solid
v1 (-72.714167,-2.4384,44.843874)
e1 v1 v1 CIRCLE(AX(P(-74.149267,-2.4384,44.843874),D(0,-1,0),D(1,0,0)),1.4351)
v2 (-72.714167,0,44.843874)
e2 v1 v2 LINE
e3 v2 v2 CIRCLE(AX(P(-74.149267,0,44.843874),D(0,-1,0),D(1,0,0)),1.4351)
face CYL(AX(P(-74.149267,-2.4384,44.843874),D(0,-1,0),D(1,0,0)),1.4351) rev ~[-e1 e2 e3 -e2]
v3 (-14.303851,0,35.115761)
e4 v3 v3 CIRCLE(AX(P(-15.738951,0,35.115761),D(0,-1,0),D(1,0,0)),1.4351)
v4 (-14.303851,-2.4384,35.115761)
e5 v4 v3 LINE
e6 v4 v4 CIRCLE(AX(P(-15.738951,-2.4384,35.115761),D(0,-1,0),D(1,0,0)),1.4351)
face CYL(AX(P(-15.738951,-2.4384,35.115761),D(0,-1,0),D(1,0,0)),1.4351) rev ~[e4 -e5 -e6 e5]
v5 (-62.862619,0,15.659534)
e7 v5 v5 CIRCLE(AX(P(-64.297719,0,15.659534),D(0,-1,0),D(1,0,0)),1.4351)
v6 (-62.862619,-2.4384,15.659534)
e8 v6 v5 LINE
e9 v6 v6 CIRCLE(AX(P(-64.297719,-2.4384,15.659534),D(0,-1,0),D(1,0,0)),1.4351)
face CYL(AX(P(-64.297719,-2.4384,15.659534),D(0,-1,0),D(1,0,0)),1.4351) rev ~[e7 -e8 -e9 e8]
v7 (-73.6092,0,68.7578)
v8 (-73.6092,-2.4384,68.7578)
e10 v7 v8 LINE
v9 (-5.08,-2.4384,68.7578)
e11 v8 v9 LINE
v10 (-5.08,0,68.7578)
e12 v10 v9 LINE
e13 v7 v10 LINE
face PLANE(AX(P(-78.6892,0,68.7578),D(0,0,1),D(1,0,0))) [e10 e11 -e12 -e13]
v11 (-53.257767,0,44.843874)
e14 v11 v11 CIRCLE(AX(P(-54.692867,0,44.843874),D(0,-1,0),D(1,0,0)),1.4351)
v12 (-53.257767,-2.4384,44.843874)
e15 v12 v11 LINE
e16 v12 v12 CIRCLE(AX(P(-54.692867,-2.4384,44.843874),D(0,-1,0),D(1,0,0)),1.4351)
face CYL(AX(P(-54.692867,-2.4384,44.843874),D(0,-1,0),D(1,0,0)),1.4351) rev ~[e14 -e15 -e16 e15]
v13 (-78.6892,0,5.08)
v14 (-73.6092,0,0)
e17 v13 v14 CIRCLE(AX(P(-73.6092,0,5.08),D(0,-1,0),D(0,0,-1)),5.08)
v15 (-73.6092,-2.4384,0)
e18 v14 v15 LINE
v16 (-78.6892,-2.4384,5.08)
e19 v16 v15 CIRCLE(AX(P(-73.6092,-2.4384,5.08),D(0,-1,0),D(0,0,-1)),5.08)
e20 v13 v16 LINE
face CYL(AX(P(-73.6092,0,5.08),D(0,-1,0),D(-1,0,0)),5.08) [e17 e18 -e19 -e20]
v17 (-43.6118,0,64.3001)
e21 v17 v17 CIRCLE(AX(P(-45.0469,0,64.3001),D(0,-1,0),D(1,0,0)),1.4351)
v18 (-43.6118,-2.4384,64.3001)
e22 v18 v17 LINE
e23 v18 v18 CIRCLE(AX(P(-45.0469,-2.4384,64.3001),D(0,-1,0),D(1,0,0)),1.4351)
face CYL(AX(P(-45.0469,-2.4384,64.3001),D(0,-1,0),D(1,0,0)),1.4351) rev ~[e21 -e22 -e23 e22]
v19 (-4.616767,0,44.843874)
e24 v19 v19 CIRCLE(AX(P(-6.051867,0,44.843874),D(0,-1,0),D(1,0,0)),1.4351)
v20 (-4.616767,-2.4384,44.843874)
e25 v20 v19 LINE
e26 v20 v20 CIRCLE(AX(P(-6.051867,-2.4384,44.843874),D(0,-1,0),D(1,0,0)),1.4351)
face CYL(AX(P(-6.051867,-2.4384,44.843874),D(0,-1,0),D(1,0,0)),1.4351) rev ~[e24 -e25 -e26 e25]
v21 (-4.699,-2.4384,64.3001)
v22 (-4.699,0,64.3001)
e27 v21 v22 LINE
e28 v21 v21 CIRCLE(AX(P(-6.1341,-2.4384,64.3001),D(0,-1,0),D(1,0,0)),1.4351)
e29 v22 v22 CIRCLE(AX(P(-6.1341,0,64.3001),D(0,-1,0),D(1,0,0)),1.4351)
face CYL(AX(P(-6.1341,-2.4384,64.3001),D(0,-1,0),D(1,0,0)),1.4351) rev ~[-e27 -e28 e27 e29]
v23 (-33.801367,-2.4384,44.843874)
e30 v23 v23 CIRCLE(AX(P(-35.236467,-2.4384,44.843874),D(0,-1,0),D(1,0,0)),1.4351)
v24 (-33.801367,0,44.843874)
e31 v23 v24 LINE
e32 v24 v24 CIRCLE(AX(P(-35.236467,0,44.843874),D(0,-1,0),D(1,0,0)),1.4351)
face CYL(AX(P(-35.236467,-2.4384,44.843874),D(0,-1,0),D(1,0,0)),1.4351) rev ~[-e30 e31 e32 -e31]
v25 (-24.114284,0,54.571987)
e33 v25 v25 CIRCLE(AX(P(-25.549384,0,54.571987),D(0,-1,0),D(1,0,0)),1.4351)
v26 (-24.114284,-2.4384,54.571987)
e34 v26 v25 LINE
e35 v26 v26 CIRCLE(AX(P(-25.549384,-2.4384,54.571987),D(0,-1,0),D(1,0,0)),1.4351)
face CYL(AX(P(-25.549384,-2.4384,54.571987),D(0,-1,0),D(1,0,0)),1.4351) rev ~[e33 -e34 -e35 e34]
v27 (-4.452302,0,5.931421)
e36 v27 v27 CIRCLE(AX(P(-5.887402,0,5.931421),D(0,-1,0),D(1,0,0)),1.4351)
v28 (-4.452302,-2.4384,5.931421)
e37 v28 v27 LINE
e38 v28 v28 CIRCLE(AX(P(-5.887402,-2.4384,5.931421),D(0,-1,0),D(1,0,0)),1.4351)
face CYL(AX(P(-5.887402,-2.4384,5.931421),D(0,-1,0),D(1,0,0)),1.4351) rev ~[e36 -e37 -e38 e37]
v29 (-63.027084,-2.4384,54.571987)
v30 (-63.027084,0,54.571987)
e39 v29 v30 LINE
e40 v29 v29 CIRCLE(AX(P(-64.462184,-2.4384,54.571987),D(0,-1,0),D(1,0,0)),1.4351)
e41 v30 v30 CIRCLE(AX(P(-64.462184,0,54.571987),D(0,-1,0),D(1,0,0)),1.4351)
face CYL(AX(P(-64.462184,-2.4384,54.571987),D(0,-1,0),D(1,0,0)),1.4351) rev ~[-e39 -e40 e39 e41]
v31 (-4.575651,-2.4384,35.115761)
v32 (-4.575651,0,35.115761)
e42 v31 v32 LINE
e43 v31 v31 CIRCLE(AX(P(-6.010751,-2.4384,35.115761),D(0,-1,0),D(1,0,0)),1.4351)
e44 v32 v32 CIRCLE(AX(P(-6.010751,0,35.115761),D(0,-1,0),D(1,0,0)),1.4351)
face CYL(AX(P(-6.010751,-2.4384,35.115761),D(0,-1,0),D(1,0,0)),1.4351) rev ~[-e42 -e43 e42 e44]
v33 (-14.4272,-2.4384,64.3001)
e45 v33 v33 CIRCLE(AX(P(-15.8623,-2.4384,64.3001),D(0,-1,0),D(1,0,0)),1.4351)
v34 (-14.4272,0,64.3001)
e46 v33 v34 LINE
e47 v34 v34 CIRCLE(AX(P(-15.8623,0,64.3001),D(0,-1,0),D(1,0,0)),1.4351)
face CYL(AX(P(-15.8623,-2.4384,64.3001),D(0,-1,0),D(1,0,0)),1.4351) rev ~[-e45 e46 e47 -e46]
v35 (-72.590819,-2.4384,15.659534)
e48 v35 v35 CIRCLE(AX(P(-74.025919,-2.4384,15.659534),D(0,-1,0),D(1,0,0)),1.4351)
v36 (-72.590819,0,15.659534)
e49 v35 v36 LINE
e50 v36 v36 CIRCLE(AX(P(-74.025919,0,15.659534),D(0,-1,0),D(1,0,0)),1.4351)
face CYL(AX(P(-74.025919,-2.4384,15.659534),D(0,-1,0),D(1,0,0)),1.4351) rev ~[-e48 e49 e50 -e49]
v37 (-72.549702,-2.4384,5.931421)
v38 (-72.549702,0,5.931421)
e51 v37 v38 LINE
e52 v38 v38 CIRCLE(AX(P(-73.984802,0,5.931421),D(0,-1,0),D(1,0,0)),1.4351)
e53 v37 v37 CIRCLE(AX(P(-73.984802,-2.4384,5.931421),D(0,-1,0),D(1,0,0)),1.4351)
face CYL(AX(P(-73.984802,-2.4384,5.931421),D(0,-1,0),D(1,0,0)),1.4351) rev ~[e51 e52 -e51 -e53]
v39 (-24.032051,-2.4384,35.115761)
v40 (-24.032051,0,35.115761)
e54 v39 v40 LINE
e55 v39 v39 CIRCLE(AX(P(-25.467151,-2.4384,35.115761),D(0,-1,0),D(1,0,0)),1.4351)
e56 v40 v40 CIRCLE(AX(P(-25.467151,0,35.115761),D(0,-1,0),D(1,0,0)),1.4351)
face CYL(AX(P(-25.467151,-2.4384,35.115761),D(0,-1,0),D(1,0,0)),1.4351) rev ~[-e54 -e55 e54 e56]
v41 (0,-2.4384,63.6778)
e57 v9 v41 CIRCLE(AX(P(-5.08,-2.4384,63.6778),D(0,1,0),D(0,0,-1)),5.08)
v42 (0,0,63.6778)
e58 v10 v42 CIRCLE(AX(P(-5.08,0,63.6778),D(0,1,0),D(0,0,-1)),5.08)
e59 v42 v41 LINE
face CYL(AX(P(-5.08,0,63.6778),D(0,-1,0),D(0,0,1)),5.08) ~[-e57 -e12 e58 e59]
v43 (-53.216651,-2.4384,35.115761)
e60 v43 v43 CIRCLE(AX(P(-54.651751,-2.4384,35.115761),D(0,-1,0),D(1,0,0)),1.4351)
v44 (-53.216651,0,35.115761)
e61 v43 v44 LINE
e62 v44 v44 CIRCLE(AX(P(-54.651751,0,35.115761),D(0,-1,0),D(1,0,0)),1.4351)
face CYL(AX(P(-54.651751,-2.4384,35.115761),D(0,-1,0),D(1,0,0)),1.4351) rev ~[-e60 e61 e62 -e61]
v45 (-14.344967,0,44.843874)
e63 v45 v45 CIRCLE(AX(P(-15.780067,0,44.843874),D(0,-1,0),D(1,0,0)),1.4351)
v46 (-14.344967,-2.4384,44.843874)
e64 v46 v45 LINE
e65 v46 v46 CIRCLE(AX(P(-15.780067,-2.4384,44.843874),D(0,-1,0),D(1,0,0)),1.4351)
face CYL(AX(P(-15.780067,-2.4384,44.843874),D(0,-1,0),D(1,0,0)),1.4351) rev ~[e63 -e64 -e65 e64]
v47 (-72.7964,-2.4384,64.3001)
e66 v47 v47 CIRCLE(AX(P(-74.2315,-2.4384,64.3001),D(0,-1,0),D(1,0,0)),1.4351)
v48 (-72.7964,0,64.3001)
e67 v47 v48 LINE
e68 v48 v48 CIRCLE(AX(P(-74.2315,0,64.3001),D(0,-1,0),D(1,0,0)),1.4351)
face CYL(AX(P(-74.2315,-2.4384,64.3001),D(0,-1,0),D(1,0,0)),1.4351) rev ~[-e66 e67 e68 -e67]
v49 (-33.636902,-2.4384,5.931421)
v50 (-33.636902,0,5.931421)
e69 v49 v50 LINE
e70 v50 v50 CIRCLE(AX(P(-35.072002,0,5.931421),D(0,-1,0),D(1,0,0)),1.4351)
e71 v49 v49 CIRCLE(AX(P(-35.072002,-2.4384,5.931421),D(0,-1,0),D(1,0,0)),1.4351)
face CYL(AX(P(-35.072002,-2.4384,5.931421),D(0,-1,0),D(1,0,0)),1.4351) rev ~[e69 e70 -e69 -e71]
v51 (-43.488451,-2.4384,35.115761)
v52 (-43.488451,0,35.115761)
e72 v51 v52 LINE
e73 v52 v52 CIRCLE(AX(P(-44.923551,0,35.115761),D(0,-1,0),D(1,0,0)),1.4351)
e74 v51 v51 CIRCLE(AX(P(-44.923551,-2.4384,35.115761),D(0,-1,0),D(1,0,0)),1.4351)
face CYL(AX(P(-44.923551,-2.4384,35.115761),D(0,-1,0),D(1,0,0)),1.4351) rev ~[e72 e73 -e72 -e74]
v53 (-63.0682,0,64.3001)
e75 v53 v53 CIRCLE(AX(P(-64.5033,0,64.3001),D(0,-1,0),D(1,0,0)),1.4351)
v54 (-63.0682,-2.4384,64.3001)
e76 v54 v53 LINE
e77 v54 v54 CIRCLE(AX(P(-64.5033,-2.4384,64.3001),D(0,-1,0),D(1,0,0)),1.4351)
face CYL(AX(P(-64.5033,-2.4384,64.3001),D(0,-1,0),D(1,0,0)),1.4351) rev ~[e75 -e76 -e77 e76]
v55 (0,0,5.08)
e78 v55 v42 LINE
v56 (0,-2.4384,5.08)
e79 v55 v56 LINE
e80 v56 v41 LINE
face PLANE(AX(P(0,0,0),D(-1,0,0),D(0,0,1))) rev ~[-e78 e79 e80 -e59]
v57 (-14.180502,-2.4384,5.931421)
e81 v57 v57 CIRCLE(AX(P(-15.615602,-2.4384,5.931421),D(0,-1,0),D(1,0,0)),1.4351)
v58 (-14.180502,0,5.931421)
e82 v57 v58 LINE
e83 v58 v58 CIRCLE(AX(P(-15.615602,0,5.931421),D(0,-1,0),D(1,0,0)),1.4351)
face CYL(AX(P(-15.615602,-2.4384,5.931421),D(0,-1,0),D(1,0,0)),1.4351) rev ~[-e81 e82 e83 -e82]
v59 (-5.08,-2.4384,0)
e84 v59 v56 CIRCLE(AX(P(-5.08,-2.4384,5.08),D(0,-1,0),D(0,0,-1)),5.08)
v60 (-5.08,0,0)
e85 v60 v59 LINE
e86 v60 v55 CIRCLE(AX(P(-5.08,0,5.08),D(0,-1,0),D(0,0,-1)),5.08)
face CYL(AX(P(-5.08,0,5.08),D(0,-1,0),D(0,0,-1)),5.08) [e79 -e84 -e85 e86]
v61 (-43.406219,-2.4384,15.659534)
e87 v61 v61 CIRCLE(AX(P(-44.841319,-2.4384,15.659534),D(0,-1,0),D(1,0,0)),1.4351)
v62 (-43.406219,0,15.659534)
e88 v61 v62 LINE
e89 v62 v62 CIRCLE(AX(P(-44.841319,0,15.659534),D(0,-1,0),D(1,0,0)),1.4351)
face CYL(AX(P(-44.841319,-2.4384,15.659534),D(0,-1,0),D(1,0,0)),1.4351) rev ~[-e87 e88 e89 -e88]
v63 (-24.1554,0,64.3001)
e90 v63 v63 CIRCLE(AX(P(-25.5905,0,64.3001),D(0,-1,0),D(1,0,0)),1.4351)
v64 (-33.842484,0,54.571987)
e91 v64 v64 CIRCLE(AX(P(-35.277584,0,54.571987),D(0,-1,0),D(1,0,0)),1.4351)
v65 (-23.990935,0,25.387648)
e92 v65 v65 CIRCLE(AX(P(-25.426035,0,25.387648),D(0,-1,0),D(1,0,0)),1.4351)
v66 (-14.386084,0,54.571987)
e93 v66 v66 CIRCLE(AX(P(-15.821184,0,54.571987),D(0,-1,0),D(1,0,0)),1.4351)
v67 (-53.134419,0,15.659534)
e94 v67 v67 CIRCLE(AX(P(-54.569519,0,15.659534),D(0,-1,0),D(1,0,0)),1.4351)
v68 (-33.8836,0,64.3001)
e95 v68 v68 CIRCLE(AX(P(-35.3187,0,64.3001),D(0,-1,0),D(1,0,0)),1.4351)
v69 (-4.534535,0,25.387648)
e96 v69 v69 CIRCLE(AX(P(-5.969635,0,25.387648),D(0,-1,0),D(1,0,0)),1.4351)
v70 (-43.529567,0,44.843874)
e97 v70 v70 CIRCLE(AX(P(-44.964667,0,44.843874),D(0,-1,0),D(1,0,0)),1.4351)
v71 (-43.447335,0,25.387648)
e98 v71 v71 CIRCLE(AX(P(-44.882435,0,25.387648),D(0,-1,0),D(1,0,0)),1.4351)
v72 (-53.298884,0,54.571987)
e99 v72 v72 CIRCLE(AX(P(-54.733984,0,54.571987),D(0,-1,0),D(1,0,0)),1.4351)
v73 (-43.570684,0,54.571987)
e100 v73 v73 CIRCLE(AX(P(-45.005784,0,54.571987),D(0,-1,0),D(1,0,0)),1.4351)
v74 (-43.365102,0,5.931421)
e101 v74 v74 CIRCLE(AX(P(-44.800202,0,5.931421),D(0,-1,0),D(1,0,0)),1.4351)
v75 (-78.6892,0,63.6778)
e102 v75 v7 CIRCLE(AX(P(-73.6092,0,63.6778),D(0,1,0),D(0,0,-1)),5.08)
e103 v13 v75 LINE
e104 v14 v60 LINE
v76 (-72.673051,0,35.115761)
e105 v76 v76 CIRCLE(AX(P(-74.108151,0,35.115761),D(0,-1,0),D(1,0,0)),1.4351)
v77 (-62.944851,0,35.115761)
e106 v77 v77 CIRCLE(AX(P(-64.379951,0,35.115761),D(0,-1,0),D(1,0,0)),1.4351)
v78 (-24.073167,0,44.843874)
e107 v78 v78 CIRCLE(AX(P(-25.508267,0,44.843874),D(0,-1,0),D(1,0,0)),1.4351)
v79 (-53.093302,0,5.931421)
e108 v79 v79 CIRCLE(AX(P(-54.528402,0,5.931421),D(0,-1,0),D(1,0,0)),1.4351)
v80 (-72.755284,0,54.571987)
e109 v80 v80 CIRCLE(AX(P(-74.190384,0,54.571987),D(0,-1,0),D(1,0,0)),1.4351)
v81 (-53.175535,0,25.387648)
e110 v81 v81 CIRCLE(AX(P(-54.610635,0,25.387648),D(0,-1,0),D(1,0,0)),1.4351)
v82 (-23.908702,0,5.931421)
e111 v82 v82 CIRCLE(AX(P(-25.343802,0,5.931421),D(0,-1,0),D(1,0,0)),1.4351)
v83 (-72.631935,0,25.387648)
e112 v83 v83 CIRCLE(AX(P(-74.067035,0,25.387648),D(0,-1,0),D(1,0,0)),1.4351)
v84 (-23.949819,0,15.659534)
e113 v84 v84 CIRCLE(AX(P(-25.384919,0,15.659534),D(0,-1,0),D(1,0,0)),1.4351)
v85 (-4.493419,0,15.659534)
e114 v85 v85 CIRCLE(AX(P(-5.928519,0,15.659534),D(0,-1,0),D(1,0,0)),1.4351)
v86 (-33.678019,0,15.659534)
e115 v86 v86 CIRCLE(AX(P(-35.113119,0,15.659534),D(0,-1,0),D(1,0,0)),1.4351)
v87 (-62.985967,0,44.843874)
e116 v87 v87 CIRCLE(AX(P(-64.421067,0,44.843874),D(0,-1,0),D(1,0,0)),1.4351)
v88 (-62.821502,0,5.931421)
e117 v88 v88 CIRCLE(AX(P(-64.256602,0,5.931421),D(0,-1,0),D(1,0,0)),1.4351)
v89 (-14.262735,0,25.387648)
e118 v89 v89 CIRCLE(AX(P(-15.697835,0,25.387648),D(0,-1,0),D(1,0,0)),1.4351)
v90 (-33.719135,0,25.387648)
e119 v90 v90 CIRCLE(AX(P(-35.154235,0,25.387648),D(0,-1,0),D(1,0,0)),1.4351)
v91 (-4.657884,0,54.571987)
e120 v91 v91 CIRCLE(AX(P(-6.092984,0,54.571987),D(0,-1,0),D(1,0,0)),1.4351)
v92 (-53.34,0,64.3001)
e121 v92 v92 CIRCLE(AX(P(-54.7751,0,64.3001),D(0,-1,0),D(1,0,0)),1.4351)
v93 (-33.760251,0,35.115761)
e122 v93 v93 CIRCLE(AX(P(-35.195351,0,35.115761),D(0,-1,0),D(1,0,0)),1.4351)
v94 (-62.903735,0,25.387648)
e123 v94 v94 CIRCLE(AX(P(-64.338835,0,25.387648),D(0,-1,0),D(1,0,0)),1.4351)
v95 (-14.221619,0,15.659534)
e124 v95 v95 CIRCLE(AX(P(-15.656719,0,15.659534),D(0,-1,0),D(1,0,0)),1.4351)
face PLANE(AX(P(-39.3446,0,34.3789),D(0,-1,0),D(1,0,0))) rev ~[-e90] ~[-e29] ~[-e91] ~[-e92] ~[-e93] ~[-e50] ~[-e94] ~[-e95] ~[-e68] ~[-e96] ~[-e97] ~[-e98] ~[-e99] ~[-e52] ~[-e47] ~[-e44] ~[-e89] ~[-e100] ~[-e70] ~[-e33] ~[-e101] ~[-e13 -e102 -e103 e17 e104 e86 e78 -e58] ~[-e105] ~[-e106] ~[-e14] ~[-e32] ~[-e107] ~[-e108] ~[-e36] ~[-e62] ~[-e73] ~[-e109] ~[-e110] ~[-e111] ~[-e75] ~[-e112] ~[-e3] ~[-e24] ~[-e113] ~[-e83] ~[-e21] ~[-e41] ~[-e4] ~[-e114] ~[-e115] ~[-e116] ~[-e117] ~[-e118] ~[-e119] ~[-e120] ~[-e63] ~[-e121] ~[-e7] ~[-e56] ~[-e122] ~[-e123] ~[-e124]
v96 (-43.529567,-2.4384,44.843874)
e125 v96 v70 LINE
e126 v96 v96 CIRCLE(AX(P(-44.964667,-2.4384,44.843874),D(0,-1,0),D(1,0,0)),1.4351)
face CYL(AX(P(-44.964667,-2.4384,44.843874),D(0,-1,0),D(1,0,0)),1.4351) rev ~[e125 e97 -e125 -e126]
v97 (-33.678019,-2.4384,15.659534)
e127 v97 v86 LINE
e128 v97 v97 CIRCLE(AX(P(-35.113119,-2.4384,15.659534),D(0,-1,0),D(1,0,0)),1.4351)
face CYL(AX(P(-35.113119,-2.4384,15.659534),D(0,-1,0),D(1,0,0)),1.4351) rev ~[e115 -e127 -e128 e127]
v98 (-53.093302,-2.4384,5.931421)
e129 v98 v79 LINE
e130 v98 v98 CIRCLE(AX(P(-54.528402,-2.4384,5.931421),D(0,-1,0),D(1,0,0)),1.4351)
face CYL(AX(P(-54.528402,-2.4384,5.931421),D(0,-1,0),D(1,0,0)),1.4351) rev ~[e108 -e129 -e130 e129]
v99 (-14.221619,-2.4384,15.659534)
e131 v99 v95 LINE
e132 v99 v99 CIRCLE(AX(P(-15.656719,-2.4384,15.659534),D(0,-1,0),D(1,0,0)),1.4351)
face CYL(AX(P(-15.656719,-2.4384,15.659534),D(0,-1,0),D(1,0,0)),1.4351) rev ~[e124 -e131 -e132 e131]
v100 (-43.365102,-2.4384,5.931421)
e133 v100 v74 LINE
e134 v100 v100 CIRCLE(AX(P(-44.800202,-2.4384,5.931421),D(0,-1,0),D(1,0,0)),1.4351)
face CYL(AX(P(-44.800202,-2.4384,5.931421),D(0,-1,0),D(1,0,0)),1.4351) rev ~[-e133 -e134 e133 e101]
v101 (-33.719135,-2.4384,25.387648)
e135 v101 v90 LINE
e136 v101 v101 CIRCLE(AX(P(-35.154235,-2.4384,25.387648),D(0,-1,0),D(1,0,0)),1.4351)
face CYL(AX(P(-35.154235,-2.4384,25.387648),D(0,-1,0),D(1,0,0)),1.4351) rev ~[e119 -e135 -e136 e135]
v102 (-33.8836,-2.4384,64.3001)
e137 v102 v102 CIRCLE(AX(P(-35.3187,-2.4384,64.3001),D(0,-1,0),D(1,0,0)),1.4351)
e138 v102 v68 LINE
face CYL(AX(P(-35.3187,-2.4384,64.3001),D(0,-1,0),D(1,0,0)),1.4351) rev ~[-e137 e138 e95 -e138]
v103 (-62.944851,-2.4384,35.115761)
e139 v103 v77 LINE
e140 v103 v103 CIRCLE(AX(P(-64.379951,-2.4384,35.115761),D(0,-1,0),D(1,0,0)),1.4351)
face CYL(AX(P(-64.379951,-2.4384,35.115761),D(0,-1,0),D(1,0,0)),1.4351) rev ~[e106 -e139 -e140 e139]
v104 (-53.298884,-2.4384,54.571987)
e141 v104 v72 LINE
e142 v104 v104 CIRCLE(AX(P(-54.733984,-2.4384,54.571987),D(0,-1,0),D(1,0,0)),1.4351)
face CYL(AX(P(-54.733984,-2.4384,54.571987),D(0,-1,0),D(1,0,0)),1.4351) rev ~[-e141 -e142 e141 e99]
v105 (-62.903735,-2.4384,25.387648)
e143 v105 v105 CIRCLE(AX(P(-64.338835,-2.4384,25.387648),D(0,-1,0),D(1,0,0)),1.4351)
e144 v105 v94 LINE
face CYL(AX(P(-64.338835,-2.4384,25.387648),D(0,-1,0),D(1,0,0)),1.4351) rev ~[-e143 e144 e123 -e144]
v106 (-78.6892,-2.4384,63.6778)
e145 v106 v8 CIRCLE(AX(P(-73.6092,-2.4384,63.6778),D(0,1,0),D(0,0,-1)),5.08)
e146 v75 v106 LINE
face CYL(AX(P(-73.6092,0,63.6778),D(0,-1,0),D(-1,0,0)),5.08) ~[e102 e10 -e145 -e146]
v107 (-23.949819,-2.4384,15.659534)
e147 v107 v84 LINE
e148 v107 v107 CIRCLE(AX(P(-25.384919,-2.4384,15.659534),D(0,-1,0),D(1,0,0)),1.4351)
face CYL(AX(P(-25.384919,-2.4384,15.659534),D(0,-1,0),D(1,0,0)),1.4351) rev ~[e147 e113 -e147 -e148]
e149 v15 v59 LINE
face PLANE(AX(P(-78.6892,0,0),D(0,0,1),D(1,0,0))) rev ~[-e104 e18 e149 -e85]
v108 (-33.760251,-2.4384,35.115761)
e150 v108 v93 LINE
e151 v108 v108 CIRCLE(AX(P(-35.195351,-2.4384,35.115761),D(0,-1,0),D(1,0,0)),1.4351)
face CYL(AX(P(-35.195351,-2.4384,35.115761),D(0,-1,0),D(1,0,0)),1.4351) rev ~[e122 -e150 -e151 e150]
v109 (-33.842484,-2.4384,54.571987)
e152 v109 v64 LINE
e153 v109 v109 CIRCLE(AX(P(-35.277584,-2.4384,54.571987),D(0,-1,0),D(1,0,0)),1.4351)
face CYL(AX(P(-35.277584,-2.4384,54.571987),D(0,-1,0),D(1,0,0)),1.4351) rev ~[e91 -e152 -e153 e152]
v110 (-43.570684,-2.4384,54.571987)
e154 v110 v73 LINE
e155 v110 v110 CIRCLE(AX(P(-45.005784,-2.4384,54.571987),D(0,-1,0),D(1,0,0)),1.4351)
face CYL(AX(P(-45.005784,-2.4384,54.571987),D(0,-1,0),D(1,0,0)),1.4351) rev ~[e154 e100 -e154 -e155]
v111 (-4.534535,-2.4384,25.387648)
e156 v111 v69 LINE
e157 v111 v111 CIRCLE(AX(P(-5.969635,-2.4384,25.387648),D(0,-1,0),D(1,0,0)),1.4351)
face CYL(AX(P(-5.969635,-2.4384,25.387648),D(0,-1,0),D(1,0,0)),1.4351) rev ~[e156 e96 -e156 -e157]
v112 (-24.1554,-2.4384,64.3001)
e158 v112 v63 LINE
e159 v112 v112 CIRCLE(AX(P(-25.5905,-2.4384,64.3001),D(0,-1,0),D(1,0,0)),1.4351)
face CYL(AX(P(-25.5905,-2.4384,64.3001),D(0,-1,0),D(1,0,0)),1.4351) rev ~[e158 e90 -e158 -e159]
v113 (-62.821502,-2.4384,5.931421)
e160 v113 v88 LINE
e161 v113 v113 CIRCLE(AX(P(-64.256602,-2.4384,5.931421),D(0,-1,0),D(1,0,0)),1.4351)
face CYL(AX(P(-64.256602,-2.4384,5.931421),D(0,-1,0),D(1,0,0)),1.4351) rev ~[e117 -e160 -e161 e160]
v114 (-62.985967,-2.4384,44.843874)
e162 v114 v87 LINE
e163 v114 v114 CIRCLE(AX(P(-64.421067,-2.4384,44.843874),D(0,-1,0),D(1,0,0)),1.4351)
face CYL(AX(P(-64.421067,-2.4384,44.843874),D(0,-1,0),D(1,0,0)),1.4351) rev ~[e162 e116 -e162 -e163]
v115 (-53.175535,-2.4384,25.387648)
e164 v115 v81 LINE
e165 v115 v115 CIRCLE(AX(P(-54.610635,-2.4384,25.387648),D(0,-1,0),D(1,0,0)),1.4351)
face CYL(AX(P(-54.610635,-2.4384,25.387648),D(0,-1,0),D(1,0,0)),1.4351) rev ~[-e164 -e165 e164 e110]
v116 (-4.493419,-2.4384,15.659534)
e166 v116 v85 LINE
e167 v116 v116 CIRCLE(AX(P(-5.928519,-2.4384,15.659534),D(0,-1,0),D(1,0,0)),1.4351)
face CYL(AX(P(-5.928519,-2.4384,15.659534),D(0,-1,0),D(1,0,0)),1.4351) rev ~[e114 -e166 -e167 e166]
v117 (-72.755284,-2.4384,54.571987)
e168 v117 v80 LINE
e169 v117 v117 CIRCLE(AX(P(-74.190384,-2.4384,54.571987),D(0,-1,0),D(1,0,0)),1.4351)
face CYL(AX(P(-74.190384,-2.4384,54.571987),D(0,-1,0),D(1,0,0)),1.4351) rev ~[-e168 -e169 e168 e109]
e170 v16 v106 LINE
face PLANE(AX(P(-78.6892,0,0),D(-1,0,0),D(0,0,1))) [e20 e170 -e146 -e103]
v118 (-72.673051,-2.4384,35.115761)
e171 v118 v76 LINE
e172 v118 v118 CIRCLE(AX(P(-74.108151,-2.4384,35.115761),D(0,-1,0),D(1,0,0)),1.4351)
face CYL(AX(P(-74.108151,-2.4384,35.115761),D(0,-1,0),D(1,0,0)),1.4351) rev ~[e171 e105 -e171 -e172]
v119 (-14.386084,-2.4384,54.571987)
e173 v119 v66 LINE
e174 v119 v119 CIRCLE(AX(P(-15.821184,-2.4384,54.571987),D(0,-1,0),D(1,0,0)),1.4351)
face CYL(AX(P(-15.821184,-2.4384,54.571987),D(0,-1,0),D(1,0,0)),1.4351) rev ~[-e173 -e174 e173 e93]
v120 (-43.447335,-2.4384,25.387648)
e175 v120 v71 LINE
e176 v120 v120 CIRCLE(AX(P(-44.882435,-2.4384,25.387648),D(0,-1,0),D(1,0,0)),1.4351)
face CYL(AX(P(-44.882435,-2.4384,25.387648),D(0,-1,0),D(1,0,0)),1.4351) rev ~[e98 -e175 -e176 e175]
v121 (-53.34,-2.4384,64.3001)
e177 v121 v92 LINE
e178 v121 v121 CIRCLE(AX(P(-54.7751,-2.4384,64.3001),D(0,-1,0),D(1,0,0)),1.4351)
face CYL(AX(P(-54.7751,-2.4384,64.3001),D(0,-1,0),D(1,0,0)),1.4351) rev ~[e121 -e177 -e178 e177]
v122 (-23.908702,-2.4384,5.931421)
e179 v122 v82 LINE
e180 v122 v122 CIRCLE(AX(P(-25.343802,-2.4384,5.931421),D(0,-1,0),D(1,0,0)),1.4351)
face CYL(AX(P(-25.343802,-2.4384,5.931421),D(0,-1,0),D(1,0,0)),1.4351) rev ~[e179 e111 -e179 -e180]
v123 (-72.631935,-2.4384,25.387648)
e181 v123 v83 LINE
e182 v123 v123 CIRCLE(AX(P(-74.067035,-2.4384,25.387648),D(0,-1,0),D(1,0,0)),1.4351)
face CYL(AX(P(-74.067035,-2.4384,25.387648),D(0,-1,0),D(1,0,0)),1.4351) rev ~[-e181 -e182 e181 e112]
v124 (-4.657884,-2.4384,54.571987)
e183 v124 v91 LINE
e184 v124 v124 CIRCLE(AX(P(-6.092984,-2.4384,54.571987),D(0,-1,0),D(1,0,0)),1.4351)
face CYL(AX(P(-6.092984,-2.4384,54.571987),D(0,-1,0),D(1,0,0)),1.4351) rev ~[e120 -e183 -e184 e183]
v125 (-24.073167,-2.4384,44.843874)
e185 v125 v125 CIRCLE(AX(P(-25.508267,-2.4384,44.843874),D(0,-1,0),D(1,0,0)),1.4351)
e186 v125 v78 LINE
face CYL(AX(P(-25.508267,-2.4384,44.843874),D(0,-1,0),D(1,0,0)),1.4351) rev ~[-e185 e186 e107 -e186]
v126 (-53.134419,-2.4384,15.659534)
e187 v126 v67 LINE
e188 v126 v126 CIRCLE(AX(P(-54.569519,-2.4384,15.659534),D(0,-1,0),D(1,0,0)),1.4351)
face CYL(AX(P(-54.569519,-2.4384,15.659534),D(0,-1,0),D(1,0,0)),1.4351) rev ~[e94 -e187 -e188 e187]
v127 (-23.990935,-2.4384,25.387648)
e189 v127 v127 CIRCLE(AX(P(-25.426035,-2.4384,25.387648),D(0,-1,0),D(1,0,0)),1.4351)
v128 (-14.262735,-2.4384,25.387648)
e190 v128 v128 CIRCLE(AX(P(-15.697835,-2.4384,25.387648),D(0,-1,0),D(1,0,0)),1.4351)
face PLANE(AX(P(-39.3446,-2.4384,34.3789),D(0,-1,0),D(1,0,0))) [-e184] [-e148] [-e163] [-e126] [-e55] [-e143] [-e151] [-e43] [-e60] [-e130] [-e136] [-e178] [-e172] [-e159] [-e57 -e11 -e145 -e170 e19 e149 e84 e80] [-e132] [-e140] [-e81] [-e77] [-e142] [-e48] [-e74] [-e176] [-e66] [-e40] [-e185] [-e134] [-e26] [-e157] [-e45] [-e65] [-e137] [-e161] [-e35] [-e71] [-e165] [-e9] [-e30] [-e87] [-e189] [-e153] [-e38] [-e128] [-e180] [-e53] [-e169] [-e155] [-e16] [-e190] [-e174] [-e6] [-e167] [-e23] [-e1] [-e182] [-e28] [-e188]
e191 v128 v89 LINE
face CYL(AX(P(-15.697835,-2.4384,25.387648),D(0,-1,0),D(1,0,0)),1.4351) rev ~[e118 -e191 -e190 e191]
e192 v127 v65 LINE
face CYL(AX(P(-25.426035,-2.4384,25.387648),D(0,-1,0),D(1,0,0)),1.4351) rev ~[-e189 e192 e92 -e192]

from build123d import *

# Parameters (mm, degrees)
F0_W     = 78.6892
F0_H     = 68.7578
F1_DEPTH = 2.4384
F2_R     = 1.4351
F3_DEPTH = 2.54
F4_R     = 5.08


with BuildPart() as f1:
    # F0 (on Front) → F1 (new body)
    with BuildSketch(Plane.XZ):
        with Locations((-39.3446, 34.3789)):
            Rectangle(F0_W, F0_H)
    extrude(amount=F1_DEPTH)

    # F2 (on face) → F3 (cut)
    with BuildSketch(Plane.XZ.offset(2.4384)):
        with Locations((-74.2315, 64.3001)):
            Circle(F2_R)
        with Locations((-64.5033, 64.3001)):
            Circle(F2_R)
        with Locations((-54.7751, 64.3001)):
            Circle(F2_R)
        with Locations((-45.0469, 64.3001)):
            Circle(F2_R)
        with Locations((-35.3187, 64.3001)):
            Circle(F2_R)
        with Locations((-15.8623, 64.3001)):
            Circle(F2_R)
        with Locations((-6.1341, 64.3001)):
            Circle(F2_R)
        with Locations((-74.190384, 54.571987)):
            Circle(F2_R)
        with Locations((-64.462184, 54.571987)):
            Circle(F2_R)
        with Locations((-54.733984, 54.571987)):
            Circle(F2_R)
        with Locations((-45.005784, 54.571987)):
            Circle(F2_R)
        with Locations((-35.277584, 54.571987)):
            Circle(F2_R)
        with Locations((-6.092984, 54.571987)):
            Circle(F2_R)
        with Locations((-25.5905, 64.3001)):
            Circle(F2_R)
        with Locations((-25.549384, 54.571987)):
            Circle(F2_R)
        with Locations((-74.149267, 44.843874)):
            Circle(F2_R)
        with Locations((-54.692867, 44.843874)):
            Circle(F2_R)
        with Locations((-44.964667, 44.843874)):
            Circle(F2_R)
        with Locations((-25.508267, 44.843874)):
            Circle(F2_R)
        with Locations((-6.051867, 44.843874)):
            Circle(F2_R)
        with Locations((-54.651751, 35.115761)):
            Circle(F2_R)
        with Locations((-44.923551, 35.115761)):
            Circle(F2_R)
        with Locations((-35.195351, 35.115761)):
            Circle(F2_R)
        with Locations((-15.738951, 35.115761)):
            Circle(F2_R)
        with Locations((-6.010751, 35.115761)):
            Circle(F2_R)
        with Locations((-74.067035, 25.387648)):
            Circle(F2_R)
        with Locations((-64.338835, 25.387648)):
            Circle(F2_R)
        with Locations((-44.882435, 25.387648)):
            Circle(F2_R)
        with Locations((-35.154235, 25.387648)):
            Circle(F2_R)
        with Locations((-25.426035, 25.387648)):
            Circle(F2_R)
        with Locations((-5.969635, 25.387648)):
            Circle(F2_R)
        with Locations((-74.025919, 15.659534)):
            Circle(F2_R)
        with Locations((-64.297719, 15.659534)):
            Circle(F2_R)
        with Locations((-44.841319, 15.659534)):
            Circle(F2_R)
        with Locations((-25.384919, 15.659534)):
            Circle(F2_R)
        with Locations((-64.421067, 44.843874)):
            Circle(F2_R)
        with Locations((-35.236467, 44.843874)):
            Circle(F2_R)
        with Locations((-15.780067, 44.843874)):
            Circle(F2_R)
        with Locations((-74.108151, 35.115761)):
            Circle(F2_R)
        with Locations((-64.379951, 35.115761)):
            Circle(F2_R)
        with Locations((-25.467151, 35.115761)):
            Circle(F2_R)
        with Locations((-15.697835, 25.387648)):
            Circle(F2_R)
        with Locations((-54.569519, 15.659534)):
            Circle(F2_R)
        with Locations((-15.656719, 15.659534)):
            Circle(F2_R)
        with Locations((-54.528402, 5.931421)):
            Circle(F2_R)
        with Locations((-44.800202, 5.931421)):
            Circle(F2_R)
        with Locations((-25.343802, 5.931421)):
            Circle(F2_R)
        with Locations((-15.615602, 5.931421)):
            Circle(F2_R)
        with Locations((-15.821184, 54.571987)):
            Circle(F2_R)
        with Locations((-54.610635, 25.387648)):
            Circle(F2_R)
        with Locations((-5.928519, 15.659534)):
            Circle(F2_R)
        with Locations((-35.072002, 5.931421)):
            Circle(F2_R)
        with Locations((-35.113119, 15.659534)):
            Circle(F2_R)
        with Locations((-5.887402, 5.931421)):
            Circle(F2_R)
        with Locations((-73.984802, 5.931421)):
            Circle(F2_R)
        with Locations((-64.256602, 5.931421)):
            Circle(F2_R)
    extrude(amount=-F3_DEPTH, mode=Mode.SUBTRACT)

    # F4
    f4_edges = [f1.edges().sort_by_distance(p)[0] for p in [
        (-78.6892, -1.2192, 68.7578),
        (-78.6892, -1.2192, 0),
        (0, -1.2192, 0),
        (0, -1.2192, 68.7578),
    ]]
    fillet(f4_edges, radius=F4_R)


solid = f1.part
